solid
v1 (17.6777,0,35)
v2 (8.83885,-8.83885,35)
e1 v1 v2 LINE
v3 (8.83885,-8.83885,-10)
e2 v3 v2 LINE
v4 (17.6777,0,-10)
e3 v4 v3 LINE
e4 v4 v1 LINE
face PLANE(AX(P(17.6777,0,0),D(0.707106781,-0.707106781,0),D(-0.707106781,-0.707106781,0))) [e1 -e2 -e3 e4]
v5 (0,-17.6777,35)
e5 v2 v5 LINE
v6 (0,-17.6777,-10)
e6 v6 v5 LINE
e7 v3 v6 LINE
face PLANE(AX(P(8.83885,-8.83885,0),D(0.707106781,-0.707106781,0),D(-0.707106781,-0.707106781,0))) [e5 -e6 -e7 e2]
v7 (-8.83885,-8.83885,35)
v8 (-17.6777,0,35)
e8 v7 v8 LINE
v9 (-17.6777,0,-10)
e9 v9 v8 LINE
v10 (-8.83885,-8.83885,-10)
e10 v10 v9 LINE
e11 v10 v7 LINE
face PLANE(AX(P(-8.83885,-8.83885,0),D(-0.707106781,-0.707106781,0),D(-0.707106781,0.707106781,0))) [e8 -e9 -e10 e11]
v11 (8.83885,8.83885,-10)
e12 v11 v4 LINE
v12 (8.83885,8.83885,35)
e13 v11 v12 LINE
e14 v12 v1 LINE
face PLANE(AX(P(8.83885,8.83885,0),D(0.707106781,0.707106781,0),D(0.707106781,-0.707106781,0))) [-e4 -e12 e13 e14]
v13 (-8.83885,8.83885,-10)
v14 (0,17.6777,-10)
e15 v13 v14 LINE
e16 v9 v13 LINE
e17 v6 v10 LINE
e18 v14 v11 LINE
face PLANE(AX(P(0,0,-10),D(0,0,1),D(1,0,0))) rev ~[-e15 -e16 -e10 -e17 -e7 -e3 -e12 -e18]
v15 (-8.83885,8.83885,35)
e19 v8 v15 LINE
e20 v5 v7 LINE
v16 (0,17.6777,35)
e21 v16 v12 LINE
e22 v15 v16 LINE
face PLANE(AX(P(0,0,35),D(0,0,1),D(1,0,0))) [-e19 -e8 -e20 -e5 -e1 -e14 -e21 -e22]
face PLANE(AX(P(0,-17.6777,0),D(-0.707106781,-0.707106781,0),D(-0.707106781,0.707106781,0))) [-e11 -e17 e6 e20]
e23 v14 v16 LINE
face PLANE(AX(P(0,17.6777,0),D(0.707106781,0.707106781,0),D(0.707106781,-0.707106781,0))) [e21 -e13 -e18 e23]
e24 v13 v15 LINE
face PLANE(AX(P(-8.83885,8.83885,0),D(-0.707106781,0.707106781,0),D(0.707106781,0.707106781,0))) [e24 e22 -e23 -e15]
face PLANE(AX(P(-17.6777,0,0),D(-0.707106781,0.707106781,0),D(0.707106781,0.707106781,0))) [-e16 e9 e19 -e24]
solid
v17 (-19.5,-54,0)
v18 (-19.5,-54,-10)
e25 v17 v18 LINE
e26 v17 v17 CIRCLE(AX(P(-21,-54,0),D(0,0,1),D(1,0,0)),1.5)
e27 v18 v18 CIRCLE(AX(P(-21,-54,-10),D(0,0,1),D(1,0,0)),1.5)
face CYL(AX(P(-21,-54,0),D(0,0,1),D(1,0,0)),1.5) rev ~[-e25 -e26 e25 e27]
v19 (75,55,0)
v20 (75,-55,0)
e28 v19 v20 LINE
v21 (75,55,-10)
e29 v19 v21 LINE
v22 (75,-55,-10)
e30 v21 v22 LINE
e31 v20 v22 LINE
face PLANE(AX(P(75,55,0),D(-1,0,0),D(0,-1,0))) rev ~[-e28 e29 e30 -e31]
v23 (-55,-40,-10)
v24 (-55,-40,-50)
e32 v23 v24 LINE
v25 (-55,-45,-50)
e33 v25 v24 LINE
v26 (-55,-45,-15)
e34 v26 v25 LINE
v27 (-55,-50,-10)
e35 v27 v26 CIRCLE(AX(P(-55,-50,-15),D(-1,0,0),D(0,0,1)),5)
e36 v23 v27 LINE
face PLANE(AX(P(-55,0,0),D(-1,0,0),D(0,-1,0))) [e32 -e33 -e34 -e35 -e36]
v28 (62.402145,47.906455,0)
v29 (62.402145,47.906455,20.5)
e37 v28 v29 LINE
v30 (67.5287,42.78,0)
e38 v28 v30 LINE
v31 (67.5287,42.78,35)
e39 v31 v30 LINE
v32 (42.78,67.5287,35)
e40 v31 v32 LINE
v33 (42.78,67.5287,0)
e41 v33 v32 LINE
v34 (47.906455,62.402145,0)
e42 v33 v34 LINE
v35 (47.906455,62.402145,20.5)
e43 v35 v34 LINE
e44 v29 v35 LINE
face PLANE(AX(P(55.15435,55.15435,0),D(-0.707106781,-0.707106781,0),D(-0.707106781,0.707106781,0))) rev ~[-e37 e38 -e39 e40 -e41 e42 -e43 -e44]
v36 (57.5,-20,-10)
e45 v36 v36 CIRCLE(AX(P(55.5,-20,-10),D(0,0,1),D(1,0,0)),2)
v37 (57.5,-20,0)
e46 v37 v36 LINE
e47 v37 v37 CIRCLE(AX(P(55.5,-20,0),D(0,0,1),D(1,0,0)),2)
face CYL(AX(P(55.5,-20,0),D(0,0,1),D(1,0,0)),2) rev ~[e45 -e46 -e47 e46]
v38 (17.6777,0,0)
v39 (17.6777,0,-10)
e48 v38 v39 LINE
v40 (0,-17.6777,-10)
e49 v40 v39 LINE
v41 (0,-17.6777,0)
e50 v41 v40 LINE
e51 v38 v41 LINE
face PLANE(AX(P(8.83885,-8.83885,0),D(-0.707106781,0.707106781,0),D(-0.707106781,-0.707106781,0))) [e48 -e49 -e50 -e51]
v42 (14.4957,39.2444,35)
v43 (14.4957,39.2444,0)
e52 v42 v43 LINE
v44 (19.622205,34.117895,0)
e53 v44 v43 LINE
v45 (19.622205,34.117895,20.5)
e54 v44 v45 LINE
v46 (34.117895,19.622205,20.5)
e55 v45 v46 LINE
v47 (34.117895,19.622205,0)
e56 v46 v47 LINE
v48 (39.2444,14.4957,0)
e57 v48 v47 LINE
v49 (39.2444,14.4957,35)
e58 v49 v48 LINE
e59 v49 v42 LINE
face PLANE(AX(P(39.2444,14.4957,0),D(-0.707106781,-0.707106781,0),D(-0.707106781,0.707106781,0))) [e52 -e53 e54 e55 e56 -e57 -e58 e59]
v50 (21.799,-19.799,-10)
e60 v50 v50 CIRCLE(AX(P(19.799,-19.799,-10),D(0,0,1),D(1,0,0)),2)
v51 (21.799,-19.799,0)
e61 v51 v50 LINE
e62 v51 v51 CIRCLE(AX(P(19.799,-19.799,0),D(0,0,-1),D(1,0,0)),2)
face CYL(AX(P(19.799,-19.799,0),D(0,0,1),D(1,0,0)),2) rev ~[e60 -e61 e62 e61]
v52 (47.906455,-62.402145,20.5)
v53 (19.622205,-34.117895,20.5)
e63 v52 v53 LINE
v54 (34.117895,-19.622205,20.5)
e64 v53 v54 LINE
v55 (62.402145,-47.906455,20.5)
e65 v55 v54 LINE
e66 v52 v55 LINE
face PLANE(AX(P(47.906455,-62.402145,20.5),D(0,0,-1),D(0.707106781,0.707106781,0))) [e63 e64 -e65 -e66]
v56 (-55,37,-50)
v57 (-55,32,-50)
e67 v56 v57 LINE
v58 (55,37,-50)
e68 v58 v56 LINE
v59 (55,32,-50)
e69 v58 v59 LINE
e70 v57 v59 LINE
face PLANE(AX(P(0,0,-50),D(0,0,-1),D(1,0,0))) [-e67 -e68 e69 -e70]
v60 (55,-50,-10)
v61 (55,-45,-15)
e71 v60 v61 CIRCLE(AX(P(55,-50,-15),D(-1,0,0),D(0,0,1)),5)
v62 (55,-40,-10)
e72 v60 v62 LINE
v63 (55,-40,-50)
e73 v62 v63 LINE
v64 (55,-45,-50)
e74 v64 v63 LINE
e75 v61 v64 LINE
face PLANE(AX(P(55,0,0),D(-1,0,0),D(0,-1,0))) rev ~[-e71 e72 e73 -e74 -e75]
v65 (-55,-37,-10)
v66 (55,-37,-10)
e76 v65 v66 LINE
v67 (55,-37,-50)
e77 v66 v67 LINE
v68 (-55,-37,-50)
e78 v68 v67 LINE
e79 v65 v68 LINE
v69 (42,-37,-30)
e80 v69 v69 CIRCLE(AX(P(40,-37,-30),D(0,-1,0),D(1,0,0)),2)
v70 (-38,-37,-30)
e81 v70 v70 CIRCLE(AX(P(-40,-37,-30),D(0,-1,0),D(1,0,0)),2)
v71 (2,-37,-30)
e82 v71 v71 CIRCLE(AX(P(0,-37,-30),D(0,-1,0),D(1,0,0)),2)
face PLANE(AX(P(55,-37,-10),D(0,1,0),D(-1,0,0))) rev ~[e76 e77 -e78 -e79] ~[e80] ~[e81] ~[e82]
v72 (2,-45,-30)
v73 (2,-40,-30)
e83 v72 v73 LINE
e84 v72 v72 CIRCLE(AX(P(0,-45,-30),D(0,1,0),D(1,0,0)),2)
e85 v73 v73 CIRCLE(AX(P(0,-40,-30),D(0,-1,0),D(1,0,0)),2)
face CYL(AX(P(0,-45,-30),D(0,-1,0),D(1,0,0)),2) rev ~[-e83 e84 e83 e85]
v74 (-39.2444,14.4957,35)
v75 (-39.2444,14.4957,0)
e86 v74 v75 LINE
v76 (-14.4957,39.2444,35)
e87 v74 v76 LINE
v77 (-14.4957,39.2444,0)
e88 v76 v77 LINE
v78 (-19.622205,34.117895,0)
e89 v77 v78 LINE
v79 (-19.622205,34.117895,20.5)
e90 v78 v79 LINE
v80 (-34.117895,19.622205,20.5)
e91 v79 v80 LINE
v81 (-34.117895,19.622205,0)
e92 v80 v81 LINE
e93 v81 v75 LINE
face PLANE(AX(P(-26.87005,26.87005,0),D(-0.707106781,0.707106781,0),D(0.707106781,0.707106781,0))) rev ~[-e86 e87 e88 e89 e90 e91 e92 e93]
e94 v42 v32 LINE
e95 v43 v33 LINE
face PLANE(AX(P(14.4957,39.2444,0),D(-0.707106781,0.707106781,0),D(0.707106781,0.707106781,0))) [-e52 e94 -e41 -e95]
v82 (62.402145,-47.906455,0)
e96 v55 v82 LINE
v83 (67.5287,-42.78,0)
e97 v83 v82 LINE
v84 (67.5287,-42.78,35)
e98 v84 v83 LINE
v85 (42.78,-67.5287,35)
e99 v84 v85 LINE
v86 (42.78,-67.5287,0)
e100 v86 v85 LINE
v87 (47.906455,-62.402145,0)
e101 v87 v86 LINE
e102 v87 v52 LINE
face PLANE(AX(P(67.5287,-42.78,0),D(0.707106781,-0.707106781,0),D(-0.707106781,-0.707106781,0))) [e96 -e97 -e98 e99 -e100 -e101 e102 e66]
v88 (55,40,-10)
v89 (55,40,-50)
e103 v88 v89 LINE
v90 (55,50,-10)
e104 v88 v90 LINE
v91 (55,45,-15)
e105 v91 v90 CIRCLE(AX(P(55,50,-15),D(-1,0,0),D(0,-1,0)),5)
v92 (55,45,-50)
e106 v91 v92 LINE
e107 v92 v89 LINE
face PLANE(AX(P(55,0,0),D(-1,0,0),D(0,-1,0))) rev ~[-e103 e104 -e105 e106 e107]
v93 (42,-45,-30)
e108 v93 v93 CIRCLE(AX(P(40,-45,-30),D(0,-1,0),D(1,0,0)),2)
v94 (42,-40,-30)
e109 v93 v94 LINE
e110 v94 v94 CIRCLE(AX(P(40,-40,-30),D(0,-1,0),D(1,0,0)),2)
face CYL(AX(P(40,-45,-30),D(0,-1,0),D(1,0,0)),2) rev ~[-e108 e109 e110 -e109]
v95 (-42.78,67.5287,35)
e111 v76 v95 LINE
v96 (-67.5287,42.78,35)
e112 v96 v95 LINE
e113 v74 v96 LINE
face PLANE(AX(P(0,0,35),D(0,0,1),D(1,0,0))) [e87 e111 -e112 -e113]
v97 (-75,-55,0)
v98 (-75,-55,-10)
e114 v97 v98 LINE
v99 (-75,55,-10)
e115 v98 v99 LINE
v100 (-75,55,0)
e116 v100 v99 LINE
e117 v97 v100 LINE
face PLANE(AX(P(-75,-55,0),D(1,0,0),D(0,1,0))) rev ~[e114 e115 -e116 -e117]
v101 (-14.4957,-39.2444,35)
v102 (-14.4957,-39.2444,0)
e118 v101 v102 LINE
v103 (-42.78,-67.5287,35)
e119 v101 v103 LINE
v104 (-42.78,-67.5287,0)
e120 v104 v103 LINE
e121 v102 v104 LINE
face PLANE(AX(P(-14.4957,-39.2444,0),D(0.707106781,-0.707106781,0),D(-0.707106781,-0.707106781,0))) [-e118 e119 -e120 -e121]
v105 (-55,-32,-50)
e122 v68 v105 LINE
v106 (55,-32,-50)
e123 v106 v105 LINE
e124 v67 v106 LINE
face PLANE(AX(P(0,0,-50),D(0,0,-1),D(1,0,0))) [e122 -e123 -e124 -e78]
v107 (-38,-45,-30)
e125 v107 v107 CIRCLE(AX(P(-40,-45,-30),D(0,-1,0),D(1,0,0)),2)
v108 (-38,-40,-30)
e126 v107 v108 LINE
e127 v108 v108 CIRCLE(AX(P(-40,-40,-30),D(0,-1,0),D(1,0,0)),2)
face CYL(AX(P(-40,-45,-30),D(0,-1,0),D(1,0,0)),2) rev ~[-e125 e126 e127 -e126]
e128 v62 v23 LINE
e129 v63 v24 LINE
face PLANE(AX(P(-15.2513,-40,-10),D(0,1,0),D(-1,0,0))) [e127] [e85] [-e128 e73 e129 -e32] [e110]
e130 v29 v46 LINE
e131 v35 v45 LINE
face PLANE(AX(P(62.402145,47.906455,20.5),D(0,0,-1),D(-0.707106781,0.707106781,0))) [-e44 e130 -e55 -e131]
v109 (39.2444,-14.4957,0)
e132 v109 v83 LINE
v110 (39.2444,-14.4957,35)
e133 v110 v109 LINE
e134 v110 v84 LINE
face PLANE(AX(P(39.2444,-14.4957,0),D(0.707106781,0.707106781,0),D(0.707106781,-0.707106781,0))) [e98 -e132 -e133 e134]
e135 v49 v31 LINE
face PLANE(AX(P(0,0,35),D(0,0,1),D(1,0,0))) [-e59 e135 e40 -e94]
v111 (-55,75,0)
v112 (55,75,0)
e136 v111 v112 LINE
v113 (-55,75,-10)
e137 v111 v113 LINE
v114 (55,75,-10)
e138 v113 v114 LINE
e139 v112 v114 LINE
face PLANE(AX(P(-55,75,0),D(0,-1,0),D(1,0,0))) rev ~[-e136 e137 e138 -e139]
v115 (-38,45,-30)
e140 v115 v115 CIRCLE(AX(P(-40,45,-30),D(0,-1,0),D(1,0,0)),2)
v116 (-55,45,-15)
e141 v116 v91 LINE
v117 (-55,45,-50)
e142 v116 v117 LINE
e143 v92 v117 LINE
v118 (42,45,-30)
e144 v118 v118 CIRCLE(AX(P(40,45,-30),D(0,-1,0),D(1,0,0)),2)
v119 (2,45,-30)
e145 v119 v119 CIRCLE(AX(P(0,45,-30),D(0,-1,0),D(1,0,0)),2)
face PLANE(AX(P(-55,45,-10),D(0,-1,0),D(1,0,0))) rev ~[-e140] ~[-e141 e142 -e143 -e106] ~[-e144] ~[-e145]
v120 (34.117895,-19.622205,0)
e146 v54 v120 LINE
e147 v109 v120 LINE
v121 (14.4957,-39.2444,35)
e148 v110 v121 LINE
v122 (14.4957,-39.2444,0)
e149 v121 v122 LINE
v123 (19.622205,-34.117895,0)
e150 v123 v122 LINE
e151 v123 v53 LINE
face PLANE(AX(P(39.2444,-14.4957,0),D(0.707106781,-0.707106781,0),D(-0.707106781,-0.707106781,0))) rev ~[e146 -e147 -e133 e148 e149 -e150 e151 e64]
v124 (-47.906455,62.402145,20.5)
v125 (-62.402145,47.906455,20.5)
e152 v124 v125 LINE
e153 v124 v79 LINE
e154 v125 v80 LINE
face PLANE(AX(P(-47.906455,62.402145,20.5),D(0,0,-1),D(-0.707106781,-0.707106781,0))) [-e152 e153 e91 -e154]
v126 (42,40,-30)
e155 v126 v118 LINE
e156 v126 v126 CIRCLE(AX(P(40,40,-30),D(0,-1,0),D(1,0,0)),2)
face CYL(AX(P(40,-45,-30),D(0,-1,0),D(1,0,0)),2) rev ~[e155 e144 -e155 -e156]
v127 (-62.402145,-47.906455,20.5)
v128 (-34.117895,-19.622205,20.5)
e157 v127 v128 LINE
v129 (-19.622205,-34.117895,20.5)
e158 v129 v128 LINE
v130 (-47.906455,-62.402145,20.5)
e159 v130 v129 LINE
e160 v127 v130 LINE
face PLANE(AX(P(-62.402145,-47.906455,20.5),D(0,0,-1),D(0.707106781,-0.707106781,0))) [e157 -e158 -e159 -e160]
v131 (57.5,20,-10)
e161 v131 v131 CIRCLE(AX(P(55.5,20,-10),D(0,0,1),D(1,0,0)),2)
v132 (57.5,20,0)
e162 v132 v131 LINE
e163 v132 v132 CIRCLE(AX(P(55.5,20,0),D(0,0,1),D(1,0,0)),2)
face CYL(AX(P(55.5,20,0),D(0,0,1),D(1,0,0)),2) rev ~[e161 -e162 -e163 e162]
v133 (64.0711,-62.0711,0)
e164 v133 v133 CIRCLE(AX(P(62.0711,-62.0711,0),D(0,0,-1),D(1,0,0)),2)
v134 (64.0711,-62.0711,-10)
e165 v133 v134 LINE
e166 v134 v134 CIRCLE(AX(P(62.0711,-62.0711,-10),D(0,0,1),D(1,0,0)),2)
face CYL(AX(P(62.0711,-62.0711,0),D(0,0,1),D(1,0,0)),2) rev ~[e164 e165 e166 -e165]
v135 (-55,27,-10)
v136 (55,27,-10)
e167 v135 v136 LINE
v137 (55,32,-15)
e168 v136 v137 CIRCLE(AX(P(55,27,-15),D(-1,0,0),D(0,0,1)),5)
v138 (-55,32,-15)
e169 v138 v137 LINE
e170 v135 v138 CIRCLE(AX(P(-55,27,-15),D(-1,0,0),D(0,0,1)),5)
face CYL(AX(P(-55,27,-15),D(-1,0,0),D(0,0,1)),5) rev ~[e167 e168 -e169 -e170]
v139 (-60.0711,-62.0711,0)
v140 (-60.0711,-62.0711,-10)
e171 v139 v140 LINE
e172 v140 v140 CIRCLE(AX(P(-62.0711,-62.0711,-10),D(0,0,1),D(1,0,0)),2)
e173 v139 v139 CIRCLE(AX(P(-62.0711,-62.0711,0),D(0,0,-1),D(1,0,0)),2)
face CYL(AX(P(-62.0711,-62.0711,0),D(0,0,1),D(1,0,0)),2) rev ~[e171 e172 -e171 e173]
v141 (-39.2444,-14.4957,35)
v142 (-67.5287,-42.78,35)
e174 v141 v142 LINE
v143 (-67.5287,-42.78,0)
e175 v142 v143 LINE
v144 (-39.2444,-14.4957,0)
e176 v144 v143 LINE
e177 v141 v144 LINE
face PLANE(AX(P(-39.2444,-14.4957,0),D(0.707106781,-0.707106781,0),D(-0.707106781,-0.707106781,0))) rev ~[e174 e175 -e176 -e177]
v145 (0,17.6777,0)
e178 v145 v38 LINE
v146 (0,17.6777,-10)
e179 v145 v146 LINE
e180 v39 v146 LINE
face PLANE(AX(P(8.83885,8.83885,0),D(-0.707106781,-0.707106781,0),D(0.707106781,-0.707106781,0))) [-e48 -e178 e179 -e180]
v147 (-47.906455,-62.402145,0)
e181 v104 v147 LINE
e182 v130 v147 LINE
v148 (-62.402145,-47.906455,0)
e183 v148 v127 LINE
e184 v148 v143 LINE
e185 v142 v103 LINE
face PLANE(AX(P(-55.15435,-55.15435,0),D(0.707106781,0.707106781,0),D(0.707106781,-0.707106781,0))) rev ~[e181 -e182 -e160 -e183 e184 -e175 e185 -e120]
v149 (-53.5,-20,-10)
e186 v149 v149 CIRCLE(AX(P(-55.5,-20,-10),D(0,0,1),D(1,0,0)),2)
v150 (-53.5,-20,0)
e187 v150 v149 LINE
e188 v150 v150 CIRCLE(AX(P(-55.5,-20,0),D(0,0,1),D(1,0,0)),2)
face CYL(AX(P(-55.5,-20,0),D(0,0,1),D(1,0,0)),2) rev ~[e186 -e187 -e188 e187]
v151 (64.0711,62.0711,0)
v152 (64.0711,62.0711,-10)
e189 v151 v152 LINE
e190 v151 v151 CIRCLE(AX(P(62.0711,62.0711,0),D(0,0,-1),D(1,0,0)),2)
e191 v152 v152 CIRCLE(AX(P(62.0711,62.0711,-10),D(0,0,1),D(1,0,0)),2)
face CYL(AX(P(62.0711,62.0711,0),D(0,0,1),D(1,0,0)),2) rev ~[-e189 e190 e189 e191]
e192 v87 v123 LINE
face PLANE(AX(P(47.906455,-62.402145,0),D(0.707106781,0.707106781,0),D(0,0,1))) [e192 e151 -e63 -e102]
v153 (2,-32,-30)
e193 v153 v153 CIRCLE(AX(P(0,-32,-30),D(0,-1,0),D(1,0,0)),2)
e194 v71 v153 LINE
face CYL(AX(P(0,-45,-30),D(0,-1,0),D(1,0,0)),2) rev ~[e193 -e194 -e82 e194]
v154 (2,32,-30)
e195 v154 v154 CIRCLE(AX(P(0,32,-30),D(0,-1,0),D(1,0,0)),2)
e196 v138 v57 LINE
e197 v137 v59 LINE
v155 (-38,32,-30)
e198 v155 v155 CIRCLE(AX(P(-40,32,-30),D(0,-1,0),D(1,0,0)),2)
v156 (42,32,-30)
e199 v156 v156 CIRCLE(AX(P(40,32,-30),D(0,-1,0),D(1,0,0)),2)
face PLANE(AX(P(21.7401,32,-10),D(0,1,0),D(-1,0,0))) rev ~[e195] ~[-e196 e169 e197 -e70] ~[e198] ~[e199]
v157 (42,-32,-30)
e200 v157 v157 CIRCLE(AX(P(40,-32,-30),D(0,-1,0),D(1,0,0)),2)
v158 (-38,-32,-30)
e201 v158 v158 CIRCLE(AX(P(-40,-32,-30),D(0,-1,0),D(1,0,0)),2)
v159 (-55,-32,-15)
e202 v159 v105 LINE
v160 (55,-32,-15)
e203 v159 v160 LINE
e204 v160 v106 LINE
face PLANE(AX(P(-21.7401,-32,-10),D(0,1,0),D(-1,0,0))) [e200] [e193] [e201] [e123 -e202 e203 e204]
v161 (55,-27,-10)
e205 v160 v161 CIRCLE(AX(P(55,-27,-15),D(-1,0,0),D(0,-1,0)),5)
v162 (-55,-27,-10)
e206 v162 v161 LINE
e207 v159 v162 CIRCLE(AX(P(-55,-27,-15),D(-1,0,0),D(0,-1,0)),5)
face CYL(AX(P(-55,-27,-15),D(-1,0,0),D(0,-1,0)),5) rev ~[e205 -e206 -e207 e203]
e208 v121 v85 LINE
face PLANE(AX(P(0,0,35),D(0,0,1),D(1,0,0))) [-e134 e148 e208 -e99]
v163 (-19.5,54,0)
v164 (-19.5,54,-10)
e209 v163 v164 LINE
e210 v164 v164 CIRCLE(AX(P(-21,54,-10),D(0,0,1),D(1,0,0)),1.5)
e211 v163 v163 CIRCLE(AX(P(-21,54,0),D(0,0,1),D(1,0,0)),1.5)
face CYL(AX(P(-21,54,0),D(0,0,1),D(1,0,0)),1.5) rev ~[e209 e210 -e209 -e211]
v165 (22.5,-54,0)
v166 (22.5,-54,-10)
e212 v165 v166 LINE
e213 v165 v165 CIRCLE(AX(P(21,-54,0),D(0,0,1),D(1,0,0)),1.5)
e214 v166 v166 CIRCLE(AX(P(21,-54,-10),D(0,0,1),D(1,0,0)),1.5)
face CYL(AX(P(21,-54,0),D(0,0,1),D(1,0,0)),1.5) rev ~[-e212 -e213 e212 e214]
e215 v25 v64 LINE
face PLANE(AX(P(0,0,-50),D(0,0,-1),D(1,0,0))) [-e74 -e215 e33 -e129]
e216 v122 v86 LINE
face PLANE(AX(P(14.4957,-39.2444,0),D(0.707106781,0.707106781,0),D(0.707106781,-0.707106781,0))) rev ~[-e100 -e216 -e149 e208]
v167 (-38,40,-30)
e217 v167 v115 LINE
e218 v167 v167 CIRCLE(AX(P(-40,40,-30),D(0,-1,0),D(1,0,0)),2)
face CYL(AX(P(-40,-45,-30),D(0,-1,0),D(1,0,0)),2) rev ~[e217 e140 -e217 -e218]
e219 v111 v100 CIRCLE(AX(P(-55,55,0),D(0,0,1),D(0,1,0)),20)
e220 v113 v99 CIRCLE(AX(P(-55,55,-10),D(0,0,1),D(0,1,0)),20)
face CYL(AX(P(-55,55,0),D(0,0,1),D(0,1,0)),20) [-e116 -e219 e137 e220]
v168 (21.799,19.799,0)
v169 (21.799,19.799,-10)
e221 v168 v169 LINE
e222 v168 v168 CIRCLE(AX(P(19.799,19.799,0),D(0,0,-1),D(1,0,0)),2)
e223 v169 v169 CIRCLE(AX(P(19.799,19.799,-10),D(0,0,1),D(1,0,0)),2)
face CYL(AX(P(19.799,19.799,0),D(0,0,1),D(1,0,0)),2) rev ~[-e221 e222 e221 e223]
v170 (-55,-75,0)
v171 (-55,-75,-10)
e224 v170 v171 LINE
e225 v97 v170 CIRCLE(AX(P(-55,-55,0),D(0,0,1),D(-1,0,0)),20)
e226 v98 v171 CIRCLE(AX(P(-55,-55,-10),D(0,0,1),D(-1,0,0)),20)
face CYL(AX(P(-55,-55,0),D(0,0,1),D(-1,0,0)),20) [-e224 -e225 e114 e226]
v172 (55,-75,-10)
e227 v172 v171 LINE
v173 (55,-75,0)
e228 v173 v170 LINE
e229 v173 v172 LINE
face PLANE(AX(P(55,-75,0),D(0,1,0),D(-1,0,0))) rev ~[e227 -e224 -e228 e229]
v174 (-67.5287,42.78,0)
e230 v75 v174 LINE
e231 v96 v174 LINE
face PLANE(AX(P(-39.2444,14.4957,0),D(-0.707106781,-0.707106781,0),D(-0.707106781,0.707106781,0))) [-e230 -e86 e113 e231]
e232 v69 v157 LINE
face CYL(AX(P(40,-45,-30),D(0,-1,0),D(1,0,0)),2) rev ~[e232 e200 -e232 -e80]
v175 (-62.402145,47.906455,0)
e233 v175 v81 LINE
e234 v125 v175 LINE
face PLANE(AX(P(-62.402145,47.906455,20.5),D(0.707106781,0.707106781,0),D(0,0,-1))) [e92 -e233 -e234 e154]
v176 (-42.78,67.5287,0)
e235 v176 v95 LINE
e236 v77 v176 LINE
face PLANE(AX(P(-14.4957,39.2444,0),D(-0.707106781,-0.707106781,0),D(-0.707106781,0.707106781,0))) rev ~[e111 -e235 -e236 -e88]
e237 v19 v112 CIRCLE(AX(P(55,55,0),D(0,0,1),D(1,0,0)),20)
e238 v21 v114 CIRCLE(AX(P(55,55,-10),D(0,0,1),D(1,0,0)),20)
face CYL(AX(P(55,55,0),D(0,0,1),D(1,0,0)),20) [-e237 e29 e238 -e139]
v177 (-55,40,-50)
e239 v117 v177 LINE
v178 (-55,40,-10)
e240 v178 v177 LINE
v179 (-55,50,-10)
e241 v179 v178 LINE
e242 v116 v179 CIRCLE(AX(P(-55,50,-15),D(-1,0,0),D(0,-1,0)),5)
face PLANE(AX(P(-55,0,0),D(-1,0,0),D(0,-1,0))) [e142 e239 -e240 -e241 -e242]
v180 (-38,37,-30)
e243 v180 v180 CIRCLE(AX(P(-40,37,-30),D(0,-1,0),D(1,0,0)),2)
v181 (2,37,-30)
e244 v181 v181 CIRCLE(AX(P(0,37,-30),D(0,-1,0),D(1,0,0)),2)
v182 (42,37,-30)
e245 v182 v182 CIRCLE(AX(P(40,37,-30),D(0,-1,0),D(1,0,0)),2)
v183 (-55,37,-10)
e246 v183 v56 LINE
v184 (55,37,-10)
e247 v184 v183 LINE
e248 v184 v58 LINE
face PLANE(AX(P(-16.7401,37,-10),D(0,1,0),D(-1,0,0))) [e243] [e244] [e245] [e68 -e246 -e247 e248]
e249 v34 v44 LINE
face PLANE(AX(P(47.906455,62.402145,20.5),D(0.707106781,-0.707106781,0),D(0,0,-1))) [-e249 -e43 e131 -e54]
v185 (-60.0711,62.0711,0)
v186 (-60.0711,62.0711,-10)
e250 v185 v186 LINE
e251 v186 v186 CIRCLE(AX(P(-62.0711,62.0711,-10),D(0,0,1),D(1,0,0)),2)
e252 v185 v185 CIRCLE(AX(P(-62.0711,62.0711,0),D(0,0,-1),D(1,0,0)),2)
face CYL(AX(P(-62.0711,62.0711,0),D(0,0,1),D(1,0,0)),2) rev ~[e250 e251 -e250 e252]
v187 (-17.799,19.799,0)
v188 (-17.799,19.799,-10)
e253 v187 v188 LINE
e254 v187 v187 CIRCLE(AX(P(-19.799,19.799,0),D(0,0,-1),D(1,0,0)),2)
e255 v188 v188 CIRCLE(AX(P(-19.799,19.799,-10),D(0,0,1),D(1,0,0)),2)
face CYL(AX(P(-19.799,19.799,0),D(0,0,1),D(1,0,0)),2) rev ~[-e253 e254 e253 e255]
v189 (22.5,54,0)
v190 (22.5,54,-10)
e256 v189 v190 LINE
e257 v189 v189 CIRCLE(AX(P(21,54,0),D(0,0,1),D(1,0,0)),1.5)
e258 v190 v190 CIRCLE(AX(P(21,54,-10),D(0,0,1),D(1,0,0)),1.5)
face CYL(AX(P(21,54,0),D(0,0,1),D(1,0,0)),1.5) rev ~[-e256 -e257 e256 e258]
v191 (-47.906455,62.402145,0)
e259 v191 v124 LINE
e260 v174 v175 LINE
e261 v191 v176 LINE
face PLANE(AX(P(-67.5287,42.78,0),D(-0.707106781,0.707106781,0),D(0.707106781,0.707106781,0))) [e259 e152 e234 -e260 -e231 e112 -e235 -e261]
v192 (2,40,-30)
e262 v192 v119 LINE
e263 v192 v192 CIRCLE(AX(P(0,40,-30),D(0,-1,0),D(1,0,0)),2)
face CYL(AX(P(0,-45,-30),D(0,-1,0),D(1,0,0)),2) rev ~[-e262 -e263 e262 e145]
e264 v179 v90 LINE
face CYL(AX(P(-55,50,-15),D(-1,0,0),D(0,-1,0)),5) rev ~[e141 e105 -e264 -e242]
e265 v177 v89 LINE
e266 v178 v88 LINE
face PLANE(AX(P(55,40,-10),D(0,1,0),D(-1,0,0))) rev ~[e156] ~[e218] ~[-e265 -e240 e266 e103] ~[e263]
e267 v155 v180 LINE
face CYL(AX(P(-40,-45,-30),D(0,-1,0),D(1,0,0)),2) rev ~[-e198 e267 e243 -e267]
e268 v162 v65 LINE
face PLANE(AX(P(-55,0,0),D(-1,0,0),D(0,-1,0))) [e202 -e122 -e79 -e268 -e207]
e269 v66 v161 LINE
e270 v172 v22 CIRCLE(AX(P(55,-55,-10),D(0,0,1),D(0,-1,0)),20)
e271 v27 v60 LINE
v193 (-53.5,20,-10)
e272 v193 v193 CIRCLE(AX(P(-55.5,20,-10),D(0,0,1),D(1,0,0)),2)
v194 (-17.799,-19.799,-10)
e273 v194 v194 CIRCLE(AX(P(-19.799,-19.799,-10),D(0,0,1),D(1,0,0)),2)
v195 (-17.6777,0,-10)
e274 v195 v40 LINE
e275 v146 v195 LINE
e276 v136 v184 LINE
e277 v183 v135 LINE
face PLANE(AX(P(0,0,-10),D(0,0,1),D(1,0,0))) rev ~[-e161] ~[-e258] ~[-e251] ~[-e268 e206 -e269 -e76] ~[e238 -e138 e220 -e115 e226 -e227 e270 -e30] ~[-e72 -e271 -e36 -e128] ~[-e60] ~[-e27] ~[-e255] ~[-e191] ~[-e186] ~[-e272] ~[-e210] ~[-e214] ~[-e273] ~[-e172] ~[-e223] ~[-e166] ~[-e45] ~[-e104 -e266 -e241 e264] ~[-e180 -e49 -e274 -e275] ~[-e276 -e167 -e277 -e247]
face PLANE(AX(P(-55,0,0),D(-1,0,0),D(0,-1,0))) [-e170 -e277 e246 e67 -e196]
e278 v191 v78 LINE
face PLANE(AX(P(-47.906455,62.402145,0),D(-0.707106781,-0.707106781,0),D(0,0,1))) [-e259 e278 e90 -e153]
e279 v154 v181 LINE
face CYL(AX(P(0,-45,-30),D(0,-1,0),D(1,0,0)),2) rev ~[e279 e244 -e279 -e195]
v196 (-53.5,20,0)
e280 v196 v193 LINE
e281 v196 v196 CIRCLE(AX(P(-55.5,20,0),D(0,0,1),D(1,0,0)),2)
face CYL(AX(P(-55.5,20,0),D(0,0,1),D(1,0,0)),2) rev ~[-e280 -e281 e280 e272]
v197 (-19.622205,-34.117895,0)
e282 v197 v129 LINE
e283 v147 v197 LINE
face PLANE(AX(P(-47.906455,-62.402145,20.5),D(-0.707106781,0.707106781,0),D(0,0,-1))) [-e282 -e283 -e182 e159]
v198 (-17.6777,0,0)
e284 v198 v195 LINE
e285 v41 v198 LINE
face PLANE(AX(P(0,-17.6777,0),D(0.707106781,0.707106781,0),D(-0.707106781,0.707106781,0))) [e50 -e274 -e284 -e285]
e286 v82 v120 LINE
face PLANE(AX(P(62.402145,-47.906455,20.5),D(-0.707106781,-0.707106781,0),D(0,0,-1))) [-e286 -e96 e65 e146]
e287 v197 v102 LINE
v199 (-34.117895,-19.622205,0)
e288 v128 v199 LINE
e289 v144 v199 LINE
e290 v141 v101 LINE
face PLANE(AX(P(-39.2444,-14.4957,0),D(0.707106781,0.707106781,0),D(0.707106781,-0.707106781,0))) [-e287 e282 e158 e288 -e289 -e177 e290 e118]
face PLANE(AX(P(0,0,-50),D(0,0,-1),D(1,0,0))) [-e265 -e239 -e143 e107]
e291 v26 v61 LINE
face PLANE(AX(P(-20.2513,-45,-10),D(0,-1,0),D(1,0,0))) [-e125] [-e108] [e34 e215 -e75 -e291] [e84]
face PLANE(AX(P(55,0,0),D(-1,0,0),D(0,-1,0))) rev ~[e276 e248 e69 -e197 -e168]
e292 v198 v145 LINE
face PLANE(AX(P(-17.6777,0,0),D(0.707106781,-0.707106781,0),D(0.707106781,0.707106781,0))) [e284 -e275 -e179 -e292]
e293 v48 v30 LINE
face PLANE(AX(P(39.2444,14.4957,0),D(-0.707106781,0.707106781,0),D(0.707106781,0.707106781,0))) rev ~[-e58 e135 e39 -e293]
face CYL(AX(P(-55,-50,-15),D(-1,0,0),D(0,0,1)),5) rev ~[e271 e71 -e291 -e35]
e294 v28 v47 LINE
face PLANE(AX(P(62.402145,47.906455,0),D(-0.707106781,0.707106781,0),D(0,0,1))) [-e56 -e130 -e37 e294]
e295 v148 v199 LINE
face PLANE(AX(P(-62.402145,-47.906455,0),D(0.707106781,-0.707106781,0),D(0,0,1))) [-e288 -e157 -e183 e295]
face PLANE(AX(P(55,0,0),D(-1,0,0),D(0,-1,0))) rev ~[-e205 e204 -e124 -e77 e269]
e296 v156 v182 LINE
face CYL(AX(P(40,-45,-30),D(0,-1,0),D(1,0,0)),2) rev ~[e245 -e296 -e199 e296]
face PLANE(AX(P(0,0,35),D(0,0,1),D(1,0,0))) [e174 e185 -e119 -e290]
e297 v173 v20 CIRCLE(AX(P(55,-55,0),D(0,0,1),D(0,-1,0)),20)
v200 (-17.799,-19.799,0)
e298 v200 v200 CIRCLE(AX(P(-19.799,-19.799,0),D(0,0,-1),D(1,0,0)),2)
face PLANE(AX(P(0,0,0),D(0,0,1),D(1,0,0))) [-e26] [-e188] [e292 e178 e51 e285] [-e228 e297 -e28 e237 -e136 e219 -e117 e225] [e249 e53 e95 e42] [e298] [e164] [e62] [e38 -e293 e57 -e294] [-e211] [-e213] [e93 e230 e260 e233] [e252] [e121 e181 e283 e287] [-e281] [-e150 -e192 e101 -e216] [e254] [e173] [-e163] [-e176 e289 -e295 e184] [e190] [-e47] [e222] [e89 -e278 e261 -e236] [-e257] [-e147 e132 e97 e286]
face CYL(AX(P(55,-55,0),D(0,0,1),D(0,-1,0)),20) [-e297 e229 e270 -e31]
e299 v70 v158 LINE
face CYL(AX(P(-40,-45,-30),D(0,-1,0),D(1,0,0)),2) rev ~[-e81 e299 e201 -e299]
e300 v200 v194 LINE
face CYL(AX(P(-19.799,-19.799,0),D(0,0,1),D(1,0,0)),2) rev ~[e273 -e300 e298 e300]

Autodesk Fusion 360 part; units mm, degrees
sketch "Sketch1" plane through (0, 0, 0) normal (0, 0, 1) x (1, 0, 0)
  line L0 (55, -75) -> (-55, -75)
  line L1 (-75, -55) -> (-75, 55)
  line L2 (-55, 75) -> (55, 75)
  line L3 (75, 55) -> (75, -55)
  line L4 (75, -75) -> (-75, 75) construction
  line L5 (-75, -75) -> (75, 75) construction
  line L6 (21, -54) -> (-21, 54) construction
  line L7 (-21, -54) -> (21, 54) construction
  line L8 (55.5, -20) -> (-55.5, 20) construction
  line L9 (-55.5, -20) -> (55.5, 20) construction
  line L10 (0, -17.6777) -> (-17.6777, 0)
  line L11 (-17.6777, 0) -> (0, 17.6777)
  line L12 (0, 17.6777) -> (17.6777, 0)
  line L13 (17.6777, 0) -> (0, -17.6777)
  line L14 (0, -17.6777) -> (0, 17.6777) construction
  line L15 (-17.6777, 0) -> (17.6777, 0) construction
  line L16 (0, 0) -> (-19.799, 19.799)
  line L17 (0, 0) -> (19.799, 19.799)
  line L18 (0, 0) -> (19.799, -19.799)
  line L19 (0, 0) -> (-19.799, -19.799)
  line L20 (-19.799, 19.799) -> (-26.8701, 26.8701)
  line L21 (0, 0) -> (0.539, 1.3859)
  line L22 (0, 0) -> (-0.539, 1.3859)
  line L23 (-17.6777, 0) -> (-27.6369, 9.9593)
  line L24 (0, 17.6777) -> (-11.2494, 28.9271)
  line L25 (19.799, 19.799) -> (26.8701, 26.8701)
  line L26 (-39.2444, 14.4957) -> (-67.5287, 42.78)
  line L27 (-14.4957, 39.2444) -> (-42.78, 67.5287)
  line L28 (-67.5287, 42.78) -> (-42.78, 67.5287)
  line L29 (-39.2444, 14.4957) -> (-14.4957, 39.2444)
  line L30 (39.2444, 14.4957) -> (67.5287, 42.78)
  line L31 (67.5287, 42.78) -> (42.78, 67.5287)
  line L32 (14.4957, 39.2444) -> (42.78, 67.5287)
  line L33 (39.2444, 14.4957) -> (14.4957, 39.2444)
  line L34 (-39.2444, -14.4957) -> (-67.5287, -42.78)
  line L35 (-67.5287, -42.78) -> (-42.78, -67.5287)
  line L36 (-14.4957, -39.2444) -> (-42.78, -67.5287)
  line L37 (-39.2444, -14.4957) -> (-14.4957, -39.2444)
  line L38 (39.2444, -14.4957) -> (67.5287, -42.78)
  line L39 (39.2444, -14.4957) -> (14.4957, -39.2444)
  line L40 (14.4957, -39.2444) -> (42.78, -67.5287)
  line L41 (67.5287, -42.78) -> (42.78, -67.5287)
  circle A0 centre (-55.5, 20) radius 2
  circle A1 centre (-55.5, -20) radius 2
  circle A2 centre (55.5, 20) radius 2
  circle A3 centre (55.5, -20) radius 2
  circle A4 centre (-21, 54) radius 1.5
  circle A5 centre (21, 54) radius 1.5
  circle A6 centre (-21, -54) radius 1.5
  circle A7 centre (21, -54) radius 1.5
  circle A8 centre (19.799, 19.799) radius 2
  circle A9 centre (-19.799, 19.799) radius 2
  circle A10 centre (-19.799, -19.799) radius 2
  circle A11 centre (19.799, -19.799) radius 2
  arc A12 (-55, 75) -> (-75, 55) centre (-55, 55) ccw
  arc A13 (75, 55) -> (55, 75) centre (55, 55) ccw
  arc A14 (-75, -55) -> (-55, -75) centre (-55, -55) ccw
  arc A15 (55, -75) -> (75, -55) centre (55, -55) ccw
  line L42 (-55, -55) -> (-62.0711, -62.0711)
  circle A16 centre (-62.0711, -62.0711) radius 2
  line L43 (-55, 55) -> (-62.0711, 62.0711)
  circle A17 centre (-62.0711, 62.0711) radius 2
  line L44 (55, 55) -> (62.0711, 62.0711)
  circle A18 centre (62.0711, 62.0711) radius 2
  line L45 (55, -55) -> (62.0711, -62.0711)
  circle A19 centre (62.0711, -62.0711) radius 2
  dimension "d1" = 150
  dimension "d2" = 150
  dimension "d3" = 42
  dimension "d4" = 108
  dimension "d5" = 111
  dimension "d6" = 40
  dimension "d7" = 25
  dimension "d8" = 25
  dimension "d9" = 28
  dimension "d10" = 28
  dimension "d11" = 28
  dimension "d12" = 28
  dimension "d15" = 10
  dimension "d21" = 17.5
  dimension "d22" = 17.5
  dimension "d23" = 40
  dimension "d24" = 40
  dimension "d25" = 4
  dimension "d26" = 4
  dimension "d27" = 4
  dimension "d28" = 4
  dimension "d29" = 3
  dimension "d30" = 3
  dimension "d31" = 3
  dimension "d32" = 3
  dimension "d33" = 4
  dimension "d34" = 4
  dimension "d35" = 4
  dimension "d36" = 4
  dimension "d43" = 20
  dimension "d44" = 20
  dimension "d45" = 20
  dimension "d46" = 20
  dimension "d68" = 10
  dimension "d69" = 4
  dimension "d70" = 10
  dimension "d71" = 4
  dimension "d72" = 10
  dimension "d73" = 4
  dimension "d74" = 10
  dimension "d75" = 4
sketch "Sketch2" plane through (0, 0, 0) normal (0, 1, 0) x (1, 0, 0)
  line L0 (0, -12) -> (0, 12)
extrude "Extrude1" add sketch "Sketch1" against normal blind 10 contours L0 L1 L2 L3 A12 A13 A14 A15 | A16 | A17 | A18 | A19 makes body 1
extrude "Extrude2" add sketch "Sketch1" along normal blind 35 separate body contours L26 L27 L28 L29 | L30 L31 L32 L33 | L34 L35 L36 L37 | L38 L39 L40 L41 makes body 2 at (41.6014, 49.851, 0) makes body 3 at (40.4229, -32.1734, 0) makes body 4 at (-40.4229, 32.1734, 35) makes body 5 at (-23.9238, -48.6725, 11.6667)
extrude "Extrude3" add sketch "Sketch1" along normal blind 35 separate body contours L10 L13 L18 L19 | L10 L11 L16 L19 | L12 L13 L17 L18 | L11 L12 L16 L17 makes body 6
extrude "Extrude5" cut sketch "Sketch1" against normal blind 50 contours A16 | A17 | A18 | A19 bodies 1
sketch "Sketch5" plane through (-55.1543, -55.1543, 0) normal (-0.707107, -0.707107, 0) x (0.707107, -0.707107, 0)
  line L0 (-17.5, 0) -> (17.5, 0)
  line L1 (17.5, 0) -> (17.5, 35)
  line L2 (17.5, 35) -> (-17.5, 35)
  line L3 (-17.5, 35) -> (-17.5, 0)
  line L4 (0, 0) -> (0, 10.25)
  line L5 (10.25, 0) -> (-10.25, 0)
  line L6 (-10.25, 0) -> (-10.25, 20.5)
  line L7 (-10.25, 20.5) -> (10.25, 20.5)
  line L8 (10.25, 20.5) -> (10.25, 0)
  line L9 (10.25, 0) -> (-10.25, 20.5) construction
  line L10 (-10.25, 0) -> (10.25, 20.5) construction
  line L11 (-20, 0) -> (-19.5, 0)
  line L12 (-17.5, 2.5) -> (-17.5, 2)
  point P0 (0, 10.25)
  point P1 (-17.5, 0)
  dimension "d51" = 10.25
  dimension "d52" = 20.5
  dimension "d53" = 20.5
  dimension "d65" = 2
sketch "Sketch6" plane through (55.1543, -55.1543, 0) normal (0.707107, -0.707107, 0) x (0.707107, 0.707107, 0)
  line L0 (-17.5, 0) -> (17.5, 0)
  line L1 (17.5, 0) -> (17.5, 35)
  line L2 (17.5, 35) -> (-17.5, 35)
  line L3 (-17.5, 35) -> (-17.5, 0)
  line L4 (0, 0) -> (0, 10.25)
  line L5 (10.25, 0) -> (-10.25, 0)
  line L6 (-10.25, 0) -> (-10.25, 20.5)
  line L7 (-10.25, 20.5) -> (10.25, 20.5)
  line L8 (10.25, 20.5) -> (10.25, 0)
  line L9 (10.25, 0) -> (-10.25, 20.5) construction
  line L10 (-10.25, 0) -> (10.25, 20.5) construction
  point P0 (0, 10.25)
  dimension "d54" = 10.25
  dimension "d55" = 20.5
  dimension "d56" = 20.5
sketch "Sketch7" plane through (55.1543, 55.1543, 0) normal (0.707107, 0.707107, 0) x (-0.707107, 0.707107, 0)
  line L0 (-17.5, 0) -> (17.5, 0)
  line L1 (17.5, 0) -> (17.5, 35)
  line L2 (17.5, 35) -> (-17.5, 35)
  line L3 (-17.5, 35) -> (-17.5, 0)
  line L4 (0, 0) -> (0, 10.25)
  line L5 (10.25, 0) -> (-10.25, 0)
  line L6 (-10.25, 0) -> (-10.25, 20.5)
  line L7 (-10.25, 20.5) -> (10.25, 20.5)
  line L8 (10.25, 20.5) -> (10.25, 0)
  line L9 (10.25, 0) -> (-10.25, 20.5) construction
  line L10 (-10.25, 0) -> (10.25, 20.5) construction
  point P0 (0, 10.25)
  dimension "d57" = 10.25
  dimension "d58" = 20.5
  dimension "d59" = 20.5
sketch "Sketch8" plane through (-55.1543, 55.1543, 0) normal (-0.707107, 0.707107, 0) x (-0.707107, -0.707107, 0)
  line L0 (-17.5, 0) -> (17.5, 0)
  line L1 (17.5, 0) -> (17.5, 35)
  line L2 (17.5, 35) -> (-17.5, 35)
  line L3 (-17.5, 35) -> (-17.5, 0)
  line L4 (0, 0) -> (0, 10.25)
  line L5 (10.25, 0) -> (-10.25, 0)
  line L6 (-10.25, 0) -> (-10.25, 20.5)
  line L7 (-10.25, 20.5) -> (10.25, 20.5)
  line L8 (10.25, 20.5) -> (10.25, 0)
  line L9 (10.25, 0) -> (-10.25, 20.5) construction
  line L10 (-10.25, 0) -> (10.25, 20.5) construction
  point P0 (0, 10.25)
  dimension "d60" = 10.25
  dimension "d61" = 20.5
  dimension "d62" = 20.5
move_face "OffsetFaces1" offset 10 4 faces at (41.6014, 49.851, 0) (40.4229, -32.1734, 0) (-40.4229, 32.1734, 0) (-32.1734, -40.4229, 0) on bodies 2 3 4 5
move_face "OffsetFaces2" offset 10 1 faces at (2.9463, -2.9463, 0) on bodies 6
sketch "Sketch9" plane through (0, 0, -10) normal (0, 0, -1) x (1, 0, 0)
  circle A0 centre (62.0711, 62.0711) radius 2
  circle A1 centre (-62.0711, -62.0711) radius 2
  circle A2 centre (-62.0711, 62.0711) radius 2
  circle A3 centre (62.0711, -62.0711) radius 2
  line L0 (-67.5287, 42.78) -> (-42.78, 67.5287)
  line L1 (-42.78, 67.5287) -> (-14.4957, 39.2444)
  line L2 (-14.4957, 39.2444) -> (-39.2444, 14.4957)
  line L3 (-39.2444, 14.4957) -> (-67.5287, 42.78)
  line L4 (-67.5287, -42.78) -> (-39.2444, -14.4957)
  line L5 (-39.2444, -14.4957) -> (-14.4957, -39.2444)
  line L6 (-14.4957, -39.2444) -> (-42.78, -67.5287)
  line L7 (-42.78, -67.5287) -> (-67.5287, -42.78)
  circle A4 centre (19.799, 19.799) radius 2
  circle A5 centre (-19.799, 19.799) radius 2
  circle A6 centre (19.799, -19.799) radius 2
  line L8 (17.6777, 0) -> (0, -17.6777)
  line L9 (0, -17.6777) -> (-17.6777, 0)
  line L10 (-17.6777, 0) -> (0, 17.6777)
  line L11 (0, 17.6777) -> (17.6777, 0)
  circle A7 centre (-19.799, -19.799) radius 2
  line L12 (67.5287, -42.78) -> (42.78, -67.5287)
  line L13 (42.78, -67.5287) -> (14.4957, -39.2444)
  line L14 (14.4957, -39.2444) -> (39.2444, -14.4957)
  line L15 (39.2444, -14.4957) -> (67.5287, -42.78)
  circle A8 centre (-55.5, 20) radius 2
  circle A9 centre (21, 54) radius 1.5
  circle A10 centre (-21, 54) radius 1.5
  circle A11 centre (21, -54) radius 1.5
  circle A12 centre (-21, -54) radius 1.5
  circle A13 centre (55.5, 20) radius 2
  circle A14 centre (-55.5, -20) radius 2
  circle A15 centre (55.5, -20) radius 2
  line L16 (39.2444, 14.4957) -> (14.4957, 39.2444)
  line L17 (14.4957, 39.2444) -> (42.78, 67.5287)
  line L18 (42.78, 67.5287) -> (67.5287, 42.78)
  line L19 (67.5287, 42.78) -> (39.2444, 14.4957)
  arc A16 (-55, 75) -> (-75, 55) centre (-55, 55) ccw
  line L20 (-75, 55) -> (-75, -55)
  arc A17 (-75, -55) -> (-55, -75) centre (-55, -55) ccw
  line L21 (-55, -75) -> (55, -75)
  arc A18 (55, -75) -> (75, -55) centre (55, -55) ccw
  line L22 (75, -55) -> (75, 55)
  arc A19 (75, 55) -> (55, 75) centre (55, 55) ccw
  line L23 (55, 75) -> (-55, 75)
  line L24 (55, -75) -> (55, -45)
  line L25 (-55, -75) -> (-55, -45)
  line L26 (-55, -45) -> (55, -45)
  line L27 (55, -45) -> (55, -40)
  line L28 (-55, -45) -> (-55, -40)
  line L29 (55, -40) -> (-55, -40)
  line L30 (0, 0) -> (100, 0)
  line L31 (55, -40) -> (55, -37)
  line L32 (-55, -40) -> (-55, -37)
  line L33 (55, -37) -> (-55, -37)
  line L34 (55, -37) -> (55, -32)
  line L35 (-55, -37) -> (-55, -32)
  line L36 (55, -32) -> (-55, -32)
  line L37 (55, 32) -> (-55, 32)
  line L38 (55, 37) -> (-55, 37)
  line L39 (55, 40) -> (-55, 40)
  line L40 (-55, 45) -> (55, 45)
  line L41 (55, 45) -> (55, 40)
  line L42 (55, 40) -> (55, 37)
  line L43 (55, 37) -> (55, 32)
  line L44 (-55, 37) -> (-55, 32)
  line L45 (-55, 40) -> (-55, 37)
  line L46 (-55, 45) -> (-55, 40)
  dimension "d82" = 5
  dimension "d83" = 5
  dimension "d84" = 100
  dimension "d85" = 3
  dimension "d86" = 3
  dimension "d87" = 5
  dimension "d88" = 5
extrude "Extrude6" add sketch "Sketch9" along normal blind 40 contours L1 L17 L39 L40 | L1 L39 L40 L46 | L2 L37 L38 L44 | L2 L16 L37 L38 | L17 L39 L40 L41 | L16 L37 L38 L43 | L5 L14 L33 L36 | L5 L33 L35 L36 | L6 L26 L28 L29 | L14 L33 L34 L36 | L6 L13 L26 L29 | L13 L26 L27 L29 bodies 1 2 3 4 5
sketch "Sketch11" plane through (-55, 0, 0) normal (-1, 0, 0) x (0, -1, 0)
  line L0 (37, -10) -> (32, -10)
  line L1 (32, -10) -> (32, -50)
  line L2 (32, -50) -> (37, -50)
  line L3 (37, -50) -> (37, -10)
  arc A0 (32, -15) -> (27, -10) centre (27, -15) ccw
  line L4 (27, -10) -> (32, -10)
  arc A1 (50, -10) -> (45, -15) centre (50, -15) ccw
  line L5 (45, -10) -> (45, -15)
  line L6 (50, -10) -> (45, -10)
  arc A2 (-27, -10) -> (-32, -15) centre (-27, -15) ccw
  line L7 (-27, -10) -> (-32, -10)
  line L8 (-32, -10) -> (-32, -15)
  arc A3 (-45, -15) -> (-50, -10) centre (-50, -15) ccw
  line L9 (-45, -10) -> (-50, -10)
  line L10 (-45, -10) -> (-45, -15)
  point P0 (32, -10)
  point P1 (32, -10)
  point P2 (32, -10)
  point P3 (32, -10)
  point P4 (45, -10)
  point P5 (-32, -10)
  point P6 (-45, -10)
  dimension "d101" = 5
  dimension "d104" = 5
  dimension "d107" = 5
  dimension "d110" = 5
extrude "Extrude7" add sketch "Sketch11" against normal blind 110 contours L1 A0 L4 | A1 L5 L6 | A2 L7 L8 | A3 L9 L10 bodies 1
extrude "Extrude8" cut sketch "Sketch5" against normal blind 60 contours L0 L5 L6 L7 L8 bodies 1
extrude "Extrude9" cut sketch "Sketch6" against normal blind 60 contours L0 L5 L6 L7 L8 bodies 1
extrude "Extrude10" cut sketch "Sketch7" against normal blind 60 contours L0 L5 L6 L7 L8 bodies 1
extrude "Extrude11" cut sketch "Sketch8" against normal blind 60 contours L0 L5 L6 L7 L8 bodies 1
sketch "Sketch12" plane through (0, -45, 0) normal (0, -1, 0) x (1, 0, 0)
  line L0 (55, -15) -> (-55, -15)
  line L1 (-55, -15) -> (-55, -50)
  line L2 (-55, -50) -> (55, -50)
  line L3 (55, -50) -> (55, -15)
  line L4 (-55, -15) -> (-55, -30)
  circle A0 centre (-40, -30) radius 2
  circle A1 centre (40, -30) radius 2
  line L5 (-40, -30) -> (0, -30)
  circle A2 centre (0, -30) radius 2
  dimension "d121" = 15
  dimension "d122" = 15
  dimension "d124" = 4
  dimension "d125" = 4
  dimension "d128" = 40
  dimension "d129" = 4
extrude "Extrude13" cut sketch "Sketch12" against normal blind 92 contours A0 | A1 | A2 bodies 1
properties part number "Configuration 1"
